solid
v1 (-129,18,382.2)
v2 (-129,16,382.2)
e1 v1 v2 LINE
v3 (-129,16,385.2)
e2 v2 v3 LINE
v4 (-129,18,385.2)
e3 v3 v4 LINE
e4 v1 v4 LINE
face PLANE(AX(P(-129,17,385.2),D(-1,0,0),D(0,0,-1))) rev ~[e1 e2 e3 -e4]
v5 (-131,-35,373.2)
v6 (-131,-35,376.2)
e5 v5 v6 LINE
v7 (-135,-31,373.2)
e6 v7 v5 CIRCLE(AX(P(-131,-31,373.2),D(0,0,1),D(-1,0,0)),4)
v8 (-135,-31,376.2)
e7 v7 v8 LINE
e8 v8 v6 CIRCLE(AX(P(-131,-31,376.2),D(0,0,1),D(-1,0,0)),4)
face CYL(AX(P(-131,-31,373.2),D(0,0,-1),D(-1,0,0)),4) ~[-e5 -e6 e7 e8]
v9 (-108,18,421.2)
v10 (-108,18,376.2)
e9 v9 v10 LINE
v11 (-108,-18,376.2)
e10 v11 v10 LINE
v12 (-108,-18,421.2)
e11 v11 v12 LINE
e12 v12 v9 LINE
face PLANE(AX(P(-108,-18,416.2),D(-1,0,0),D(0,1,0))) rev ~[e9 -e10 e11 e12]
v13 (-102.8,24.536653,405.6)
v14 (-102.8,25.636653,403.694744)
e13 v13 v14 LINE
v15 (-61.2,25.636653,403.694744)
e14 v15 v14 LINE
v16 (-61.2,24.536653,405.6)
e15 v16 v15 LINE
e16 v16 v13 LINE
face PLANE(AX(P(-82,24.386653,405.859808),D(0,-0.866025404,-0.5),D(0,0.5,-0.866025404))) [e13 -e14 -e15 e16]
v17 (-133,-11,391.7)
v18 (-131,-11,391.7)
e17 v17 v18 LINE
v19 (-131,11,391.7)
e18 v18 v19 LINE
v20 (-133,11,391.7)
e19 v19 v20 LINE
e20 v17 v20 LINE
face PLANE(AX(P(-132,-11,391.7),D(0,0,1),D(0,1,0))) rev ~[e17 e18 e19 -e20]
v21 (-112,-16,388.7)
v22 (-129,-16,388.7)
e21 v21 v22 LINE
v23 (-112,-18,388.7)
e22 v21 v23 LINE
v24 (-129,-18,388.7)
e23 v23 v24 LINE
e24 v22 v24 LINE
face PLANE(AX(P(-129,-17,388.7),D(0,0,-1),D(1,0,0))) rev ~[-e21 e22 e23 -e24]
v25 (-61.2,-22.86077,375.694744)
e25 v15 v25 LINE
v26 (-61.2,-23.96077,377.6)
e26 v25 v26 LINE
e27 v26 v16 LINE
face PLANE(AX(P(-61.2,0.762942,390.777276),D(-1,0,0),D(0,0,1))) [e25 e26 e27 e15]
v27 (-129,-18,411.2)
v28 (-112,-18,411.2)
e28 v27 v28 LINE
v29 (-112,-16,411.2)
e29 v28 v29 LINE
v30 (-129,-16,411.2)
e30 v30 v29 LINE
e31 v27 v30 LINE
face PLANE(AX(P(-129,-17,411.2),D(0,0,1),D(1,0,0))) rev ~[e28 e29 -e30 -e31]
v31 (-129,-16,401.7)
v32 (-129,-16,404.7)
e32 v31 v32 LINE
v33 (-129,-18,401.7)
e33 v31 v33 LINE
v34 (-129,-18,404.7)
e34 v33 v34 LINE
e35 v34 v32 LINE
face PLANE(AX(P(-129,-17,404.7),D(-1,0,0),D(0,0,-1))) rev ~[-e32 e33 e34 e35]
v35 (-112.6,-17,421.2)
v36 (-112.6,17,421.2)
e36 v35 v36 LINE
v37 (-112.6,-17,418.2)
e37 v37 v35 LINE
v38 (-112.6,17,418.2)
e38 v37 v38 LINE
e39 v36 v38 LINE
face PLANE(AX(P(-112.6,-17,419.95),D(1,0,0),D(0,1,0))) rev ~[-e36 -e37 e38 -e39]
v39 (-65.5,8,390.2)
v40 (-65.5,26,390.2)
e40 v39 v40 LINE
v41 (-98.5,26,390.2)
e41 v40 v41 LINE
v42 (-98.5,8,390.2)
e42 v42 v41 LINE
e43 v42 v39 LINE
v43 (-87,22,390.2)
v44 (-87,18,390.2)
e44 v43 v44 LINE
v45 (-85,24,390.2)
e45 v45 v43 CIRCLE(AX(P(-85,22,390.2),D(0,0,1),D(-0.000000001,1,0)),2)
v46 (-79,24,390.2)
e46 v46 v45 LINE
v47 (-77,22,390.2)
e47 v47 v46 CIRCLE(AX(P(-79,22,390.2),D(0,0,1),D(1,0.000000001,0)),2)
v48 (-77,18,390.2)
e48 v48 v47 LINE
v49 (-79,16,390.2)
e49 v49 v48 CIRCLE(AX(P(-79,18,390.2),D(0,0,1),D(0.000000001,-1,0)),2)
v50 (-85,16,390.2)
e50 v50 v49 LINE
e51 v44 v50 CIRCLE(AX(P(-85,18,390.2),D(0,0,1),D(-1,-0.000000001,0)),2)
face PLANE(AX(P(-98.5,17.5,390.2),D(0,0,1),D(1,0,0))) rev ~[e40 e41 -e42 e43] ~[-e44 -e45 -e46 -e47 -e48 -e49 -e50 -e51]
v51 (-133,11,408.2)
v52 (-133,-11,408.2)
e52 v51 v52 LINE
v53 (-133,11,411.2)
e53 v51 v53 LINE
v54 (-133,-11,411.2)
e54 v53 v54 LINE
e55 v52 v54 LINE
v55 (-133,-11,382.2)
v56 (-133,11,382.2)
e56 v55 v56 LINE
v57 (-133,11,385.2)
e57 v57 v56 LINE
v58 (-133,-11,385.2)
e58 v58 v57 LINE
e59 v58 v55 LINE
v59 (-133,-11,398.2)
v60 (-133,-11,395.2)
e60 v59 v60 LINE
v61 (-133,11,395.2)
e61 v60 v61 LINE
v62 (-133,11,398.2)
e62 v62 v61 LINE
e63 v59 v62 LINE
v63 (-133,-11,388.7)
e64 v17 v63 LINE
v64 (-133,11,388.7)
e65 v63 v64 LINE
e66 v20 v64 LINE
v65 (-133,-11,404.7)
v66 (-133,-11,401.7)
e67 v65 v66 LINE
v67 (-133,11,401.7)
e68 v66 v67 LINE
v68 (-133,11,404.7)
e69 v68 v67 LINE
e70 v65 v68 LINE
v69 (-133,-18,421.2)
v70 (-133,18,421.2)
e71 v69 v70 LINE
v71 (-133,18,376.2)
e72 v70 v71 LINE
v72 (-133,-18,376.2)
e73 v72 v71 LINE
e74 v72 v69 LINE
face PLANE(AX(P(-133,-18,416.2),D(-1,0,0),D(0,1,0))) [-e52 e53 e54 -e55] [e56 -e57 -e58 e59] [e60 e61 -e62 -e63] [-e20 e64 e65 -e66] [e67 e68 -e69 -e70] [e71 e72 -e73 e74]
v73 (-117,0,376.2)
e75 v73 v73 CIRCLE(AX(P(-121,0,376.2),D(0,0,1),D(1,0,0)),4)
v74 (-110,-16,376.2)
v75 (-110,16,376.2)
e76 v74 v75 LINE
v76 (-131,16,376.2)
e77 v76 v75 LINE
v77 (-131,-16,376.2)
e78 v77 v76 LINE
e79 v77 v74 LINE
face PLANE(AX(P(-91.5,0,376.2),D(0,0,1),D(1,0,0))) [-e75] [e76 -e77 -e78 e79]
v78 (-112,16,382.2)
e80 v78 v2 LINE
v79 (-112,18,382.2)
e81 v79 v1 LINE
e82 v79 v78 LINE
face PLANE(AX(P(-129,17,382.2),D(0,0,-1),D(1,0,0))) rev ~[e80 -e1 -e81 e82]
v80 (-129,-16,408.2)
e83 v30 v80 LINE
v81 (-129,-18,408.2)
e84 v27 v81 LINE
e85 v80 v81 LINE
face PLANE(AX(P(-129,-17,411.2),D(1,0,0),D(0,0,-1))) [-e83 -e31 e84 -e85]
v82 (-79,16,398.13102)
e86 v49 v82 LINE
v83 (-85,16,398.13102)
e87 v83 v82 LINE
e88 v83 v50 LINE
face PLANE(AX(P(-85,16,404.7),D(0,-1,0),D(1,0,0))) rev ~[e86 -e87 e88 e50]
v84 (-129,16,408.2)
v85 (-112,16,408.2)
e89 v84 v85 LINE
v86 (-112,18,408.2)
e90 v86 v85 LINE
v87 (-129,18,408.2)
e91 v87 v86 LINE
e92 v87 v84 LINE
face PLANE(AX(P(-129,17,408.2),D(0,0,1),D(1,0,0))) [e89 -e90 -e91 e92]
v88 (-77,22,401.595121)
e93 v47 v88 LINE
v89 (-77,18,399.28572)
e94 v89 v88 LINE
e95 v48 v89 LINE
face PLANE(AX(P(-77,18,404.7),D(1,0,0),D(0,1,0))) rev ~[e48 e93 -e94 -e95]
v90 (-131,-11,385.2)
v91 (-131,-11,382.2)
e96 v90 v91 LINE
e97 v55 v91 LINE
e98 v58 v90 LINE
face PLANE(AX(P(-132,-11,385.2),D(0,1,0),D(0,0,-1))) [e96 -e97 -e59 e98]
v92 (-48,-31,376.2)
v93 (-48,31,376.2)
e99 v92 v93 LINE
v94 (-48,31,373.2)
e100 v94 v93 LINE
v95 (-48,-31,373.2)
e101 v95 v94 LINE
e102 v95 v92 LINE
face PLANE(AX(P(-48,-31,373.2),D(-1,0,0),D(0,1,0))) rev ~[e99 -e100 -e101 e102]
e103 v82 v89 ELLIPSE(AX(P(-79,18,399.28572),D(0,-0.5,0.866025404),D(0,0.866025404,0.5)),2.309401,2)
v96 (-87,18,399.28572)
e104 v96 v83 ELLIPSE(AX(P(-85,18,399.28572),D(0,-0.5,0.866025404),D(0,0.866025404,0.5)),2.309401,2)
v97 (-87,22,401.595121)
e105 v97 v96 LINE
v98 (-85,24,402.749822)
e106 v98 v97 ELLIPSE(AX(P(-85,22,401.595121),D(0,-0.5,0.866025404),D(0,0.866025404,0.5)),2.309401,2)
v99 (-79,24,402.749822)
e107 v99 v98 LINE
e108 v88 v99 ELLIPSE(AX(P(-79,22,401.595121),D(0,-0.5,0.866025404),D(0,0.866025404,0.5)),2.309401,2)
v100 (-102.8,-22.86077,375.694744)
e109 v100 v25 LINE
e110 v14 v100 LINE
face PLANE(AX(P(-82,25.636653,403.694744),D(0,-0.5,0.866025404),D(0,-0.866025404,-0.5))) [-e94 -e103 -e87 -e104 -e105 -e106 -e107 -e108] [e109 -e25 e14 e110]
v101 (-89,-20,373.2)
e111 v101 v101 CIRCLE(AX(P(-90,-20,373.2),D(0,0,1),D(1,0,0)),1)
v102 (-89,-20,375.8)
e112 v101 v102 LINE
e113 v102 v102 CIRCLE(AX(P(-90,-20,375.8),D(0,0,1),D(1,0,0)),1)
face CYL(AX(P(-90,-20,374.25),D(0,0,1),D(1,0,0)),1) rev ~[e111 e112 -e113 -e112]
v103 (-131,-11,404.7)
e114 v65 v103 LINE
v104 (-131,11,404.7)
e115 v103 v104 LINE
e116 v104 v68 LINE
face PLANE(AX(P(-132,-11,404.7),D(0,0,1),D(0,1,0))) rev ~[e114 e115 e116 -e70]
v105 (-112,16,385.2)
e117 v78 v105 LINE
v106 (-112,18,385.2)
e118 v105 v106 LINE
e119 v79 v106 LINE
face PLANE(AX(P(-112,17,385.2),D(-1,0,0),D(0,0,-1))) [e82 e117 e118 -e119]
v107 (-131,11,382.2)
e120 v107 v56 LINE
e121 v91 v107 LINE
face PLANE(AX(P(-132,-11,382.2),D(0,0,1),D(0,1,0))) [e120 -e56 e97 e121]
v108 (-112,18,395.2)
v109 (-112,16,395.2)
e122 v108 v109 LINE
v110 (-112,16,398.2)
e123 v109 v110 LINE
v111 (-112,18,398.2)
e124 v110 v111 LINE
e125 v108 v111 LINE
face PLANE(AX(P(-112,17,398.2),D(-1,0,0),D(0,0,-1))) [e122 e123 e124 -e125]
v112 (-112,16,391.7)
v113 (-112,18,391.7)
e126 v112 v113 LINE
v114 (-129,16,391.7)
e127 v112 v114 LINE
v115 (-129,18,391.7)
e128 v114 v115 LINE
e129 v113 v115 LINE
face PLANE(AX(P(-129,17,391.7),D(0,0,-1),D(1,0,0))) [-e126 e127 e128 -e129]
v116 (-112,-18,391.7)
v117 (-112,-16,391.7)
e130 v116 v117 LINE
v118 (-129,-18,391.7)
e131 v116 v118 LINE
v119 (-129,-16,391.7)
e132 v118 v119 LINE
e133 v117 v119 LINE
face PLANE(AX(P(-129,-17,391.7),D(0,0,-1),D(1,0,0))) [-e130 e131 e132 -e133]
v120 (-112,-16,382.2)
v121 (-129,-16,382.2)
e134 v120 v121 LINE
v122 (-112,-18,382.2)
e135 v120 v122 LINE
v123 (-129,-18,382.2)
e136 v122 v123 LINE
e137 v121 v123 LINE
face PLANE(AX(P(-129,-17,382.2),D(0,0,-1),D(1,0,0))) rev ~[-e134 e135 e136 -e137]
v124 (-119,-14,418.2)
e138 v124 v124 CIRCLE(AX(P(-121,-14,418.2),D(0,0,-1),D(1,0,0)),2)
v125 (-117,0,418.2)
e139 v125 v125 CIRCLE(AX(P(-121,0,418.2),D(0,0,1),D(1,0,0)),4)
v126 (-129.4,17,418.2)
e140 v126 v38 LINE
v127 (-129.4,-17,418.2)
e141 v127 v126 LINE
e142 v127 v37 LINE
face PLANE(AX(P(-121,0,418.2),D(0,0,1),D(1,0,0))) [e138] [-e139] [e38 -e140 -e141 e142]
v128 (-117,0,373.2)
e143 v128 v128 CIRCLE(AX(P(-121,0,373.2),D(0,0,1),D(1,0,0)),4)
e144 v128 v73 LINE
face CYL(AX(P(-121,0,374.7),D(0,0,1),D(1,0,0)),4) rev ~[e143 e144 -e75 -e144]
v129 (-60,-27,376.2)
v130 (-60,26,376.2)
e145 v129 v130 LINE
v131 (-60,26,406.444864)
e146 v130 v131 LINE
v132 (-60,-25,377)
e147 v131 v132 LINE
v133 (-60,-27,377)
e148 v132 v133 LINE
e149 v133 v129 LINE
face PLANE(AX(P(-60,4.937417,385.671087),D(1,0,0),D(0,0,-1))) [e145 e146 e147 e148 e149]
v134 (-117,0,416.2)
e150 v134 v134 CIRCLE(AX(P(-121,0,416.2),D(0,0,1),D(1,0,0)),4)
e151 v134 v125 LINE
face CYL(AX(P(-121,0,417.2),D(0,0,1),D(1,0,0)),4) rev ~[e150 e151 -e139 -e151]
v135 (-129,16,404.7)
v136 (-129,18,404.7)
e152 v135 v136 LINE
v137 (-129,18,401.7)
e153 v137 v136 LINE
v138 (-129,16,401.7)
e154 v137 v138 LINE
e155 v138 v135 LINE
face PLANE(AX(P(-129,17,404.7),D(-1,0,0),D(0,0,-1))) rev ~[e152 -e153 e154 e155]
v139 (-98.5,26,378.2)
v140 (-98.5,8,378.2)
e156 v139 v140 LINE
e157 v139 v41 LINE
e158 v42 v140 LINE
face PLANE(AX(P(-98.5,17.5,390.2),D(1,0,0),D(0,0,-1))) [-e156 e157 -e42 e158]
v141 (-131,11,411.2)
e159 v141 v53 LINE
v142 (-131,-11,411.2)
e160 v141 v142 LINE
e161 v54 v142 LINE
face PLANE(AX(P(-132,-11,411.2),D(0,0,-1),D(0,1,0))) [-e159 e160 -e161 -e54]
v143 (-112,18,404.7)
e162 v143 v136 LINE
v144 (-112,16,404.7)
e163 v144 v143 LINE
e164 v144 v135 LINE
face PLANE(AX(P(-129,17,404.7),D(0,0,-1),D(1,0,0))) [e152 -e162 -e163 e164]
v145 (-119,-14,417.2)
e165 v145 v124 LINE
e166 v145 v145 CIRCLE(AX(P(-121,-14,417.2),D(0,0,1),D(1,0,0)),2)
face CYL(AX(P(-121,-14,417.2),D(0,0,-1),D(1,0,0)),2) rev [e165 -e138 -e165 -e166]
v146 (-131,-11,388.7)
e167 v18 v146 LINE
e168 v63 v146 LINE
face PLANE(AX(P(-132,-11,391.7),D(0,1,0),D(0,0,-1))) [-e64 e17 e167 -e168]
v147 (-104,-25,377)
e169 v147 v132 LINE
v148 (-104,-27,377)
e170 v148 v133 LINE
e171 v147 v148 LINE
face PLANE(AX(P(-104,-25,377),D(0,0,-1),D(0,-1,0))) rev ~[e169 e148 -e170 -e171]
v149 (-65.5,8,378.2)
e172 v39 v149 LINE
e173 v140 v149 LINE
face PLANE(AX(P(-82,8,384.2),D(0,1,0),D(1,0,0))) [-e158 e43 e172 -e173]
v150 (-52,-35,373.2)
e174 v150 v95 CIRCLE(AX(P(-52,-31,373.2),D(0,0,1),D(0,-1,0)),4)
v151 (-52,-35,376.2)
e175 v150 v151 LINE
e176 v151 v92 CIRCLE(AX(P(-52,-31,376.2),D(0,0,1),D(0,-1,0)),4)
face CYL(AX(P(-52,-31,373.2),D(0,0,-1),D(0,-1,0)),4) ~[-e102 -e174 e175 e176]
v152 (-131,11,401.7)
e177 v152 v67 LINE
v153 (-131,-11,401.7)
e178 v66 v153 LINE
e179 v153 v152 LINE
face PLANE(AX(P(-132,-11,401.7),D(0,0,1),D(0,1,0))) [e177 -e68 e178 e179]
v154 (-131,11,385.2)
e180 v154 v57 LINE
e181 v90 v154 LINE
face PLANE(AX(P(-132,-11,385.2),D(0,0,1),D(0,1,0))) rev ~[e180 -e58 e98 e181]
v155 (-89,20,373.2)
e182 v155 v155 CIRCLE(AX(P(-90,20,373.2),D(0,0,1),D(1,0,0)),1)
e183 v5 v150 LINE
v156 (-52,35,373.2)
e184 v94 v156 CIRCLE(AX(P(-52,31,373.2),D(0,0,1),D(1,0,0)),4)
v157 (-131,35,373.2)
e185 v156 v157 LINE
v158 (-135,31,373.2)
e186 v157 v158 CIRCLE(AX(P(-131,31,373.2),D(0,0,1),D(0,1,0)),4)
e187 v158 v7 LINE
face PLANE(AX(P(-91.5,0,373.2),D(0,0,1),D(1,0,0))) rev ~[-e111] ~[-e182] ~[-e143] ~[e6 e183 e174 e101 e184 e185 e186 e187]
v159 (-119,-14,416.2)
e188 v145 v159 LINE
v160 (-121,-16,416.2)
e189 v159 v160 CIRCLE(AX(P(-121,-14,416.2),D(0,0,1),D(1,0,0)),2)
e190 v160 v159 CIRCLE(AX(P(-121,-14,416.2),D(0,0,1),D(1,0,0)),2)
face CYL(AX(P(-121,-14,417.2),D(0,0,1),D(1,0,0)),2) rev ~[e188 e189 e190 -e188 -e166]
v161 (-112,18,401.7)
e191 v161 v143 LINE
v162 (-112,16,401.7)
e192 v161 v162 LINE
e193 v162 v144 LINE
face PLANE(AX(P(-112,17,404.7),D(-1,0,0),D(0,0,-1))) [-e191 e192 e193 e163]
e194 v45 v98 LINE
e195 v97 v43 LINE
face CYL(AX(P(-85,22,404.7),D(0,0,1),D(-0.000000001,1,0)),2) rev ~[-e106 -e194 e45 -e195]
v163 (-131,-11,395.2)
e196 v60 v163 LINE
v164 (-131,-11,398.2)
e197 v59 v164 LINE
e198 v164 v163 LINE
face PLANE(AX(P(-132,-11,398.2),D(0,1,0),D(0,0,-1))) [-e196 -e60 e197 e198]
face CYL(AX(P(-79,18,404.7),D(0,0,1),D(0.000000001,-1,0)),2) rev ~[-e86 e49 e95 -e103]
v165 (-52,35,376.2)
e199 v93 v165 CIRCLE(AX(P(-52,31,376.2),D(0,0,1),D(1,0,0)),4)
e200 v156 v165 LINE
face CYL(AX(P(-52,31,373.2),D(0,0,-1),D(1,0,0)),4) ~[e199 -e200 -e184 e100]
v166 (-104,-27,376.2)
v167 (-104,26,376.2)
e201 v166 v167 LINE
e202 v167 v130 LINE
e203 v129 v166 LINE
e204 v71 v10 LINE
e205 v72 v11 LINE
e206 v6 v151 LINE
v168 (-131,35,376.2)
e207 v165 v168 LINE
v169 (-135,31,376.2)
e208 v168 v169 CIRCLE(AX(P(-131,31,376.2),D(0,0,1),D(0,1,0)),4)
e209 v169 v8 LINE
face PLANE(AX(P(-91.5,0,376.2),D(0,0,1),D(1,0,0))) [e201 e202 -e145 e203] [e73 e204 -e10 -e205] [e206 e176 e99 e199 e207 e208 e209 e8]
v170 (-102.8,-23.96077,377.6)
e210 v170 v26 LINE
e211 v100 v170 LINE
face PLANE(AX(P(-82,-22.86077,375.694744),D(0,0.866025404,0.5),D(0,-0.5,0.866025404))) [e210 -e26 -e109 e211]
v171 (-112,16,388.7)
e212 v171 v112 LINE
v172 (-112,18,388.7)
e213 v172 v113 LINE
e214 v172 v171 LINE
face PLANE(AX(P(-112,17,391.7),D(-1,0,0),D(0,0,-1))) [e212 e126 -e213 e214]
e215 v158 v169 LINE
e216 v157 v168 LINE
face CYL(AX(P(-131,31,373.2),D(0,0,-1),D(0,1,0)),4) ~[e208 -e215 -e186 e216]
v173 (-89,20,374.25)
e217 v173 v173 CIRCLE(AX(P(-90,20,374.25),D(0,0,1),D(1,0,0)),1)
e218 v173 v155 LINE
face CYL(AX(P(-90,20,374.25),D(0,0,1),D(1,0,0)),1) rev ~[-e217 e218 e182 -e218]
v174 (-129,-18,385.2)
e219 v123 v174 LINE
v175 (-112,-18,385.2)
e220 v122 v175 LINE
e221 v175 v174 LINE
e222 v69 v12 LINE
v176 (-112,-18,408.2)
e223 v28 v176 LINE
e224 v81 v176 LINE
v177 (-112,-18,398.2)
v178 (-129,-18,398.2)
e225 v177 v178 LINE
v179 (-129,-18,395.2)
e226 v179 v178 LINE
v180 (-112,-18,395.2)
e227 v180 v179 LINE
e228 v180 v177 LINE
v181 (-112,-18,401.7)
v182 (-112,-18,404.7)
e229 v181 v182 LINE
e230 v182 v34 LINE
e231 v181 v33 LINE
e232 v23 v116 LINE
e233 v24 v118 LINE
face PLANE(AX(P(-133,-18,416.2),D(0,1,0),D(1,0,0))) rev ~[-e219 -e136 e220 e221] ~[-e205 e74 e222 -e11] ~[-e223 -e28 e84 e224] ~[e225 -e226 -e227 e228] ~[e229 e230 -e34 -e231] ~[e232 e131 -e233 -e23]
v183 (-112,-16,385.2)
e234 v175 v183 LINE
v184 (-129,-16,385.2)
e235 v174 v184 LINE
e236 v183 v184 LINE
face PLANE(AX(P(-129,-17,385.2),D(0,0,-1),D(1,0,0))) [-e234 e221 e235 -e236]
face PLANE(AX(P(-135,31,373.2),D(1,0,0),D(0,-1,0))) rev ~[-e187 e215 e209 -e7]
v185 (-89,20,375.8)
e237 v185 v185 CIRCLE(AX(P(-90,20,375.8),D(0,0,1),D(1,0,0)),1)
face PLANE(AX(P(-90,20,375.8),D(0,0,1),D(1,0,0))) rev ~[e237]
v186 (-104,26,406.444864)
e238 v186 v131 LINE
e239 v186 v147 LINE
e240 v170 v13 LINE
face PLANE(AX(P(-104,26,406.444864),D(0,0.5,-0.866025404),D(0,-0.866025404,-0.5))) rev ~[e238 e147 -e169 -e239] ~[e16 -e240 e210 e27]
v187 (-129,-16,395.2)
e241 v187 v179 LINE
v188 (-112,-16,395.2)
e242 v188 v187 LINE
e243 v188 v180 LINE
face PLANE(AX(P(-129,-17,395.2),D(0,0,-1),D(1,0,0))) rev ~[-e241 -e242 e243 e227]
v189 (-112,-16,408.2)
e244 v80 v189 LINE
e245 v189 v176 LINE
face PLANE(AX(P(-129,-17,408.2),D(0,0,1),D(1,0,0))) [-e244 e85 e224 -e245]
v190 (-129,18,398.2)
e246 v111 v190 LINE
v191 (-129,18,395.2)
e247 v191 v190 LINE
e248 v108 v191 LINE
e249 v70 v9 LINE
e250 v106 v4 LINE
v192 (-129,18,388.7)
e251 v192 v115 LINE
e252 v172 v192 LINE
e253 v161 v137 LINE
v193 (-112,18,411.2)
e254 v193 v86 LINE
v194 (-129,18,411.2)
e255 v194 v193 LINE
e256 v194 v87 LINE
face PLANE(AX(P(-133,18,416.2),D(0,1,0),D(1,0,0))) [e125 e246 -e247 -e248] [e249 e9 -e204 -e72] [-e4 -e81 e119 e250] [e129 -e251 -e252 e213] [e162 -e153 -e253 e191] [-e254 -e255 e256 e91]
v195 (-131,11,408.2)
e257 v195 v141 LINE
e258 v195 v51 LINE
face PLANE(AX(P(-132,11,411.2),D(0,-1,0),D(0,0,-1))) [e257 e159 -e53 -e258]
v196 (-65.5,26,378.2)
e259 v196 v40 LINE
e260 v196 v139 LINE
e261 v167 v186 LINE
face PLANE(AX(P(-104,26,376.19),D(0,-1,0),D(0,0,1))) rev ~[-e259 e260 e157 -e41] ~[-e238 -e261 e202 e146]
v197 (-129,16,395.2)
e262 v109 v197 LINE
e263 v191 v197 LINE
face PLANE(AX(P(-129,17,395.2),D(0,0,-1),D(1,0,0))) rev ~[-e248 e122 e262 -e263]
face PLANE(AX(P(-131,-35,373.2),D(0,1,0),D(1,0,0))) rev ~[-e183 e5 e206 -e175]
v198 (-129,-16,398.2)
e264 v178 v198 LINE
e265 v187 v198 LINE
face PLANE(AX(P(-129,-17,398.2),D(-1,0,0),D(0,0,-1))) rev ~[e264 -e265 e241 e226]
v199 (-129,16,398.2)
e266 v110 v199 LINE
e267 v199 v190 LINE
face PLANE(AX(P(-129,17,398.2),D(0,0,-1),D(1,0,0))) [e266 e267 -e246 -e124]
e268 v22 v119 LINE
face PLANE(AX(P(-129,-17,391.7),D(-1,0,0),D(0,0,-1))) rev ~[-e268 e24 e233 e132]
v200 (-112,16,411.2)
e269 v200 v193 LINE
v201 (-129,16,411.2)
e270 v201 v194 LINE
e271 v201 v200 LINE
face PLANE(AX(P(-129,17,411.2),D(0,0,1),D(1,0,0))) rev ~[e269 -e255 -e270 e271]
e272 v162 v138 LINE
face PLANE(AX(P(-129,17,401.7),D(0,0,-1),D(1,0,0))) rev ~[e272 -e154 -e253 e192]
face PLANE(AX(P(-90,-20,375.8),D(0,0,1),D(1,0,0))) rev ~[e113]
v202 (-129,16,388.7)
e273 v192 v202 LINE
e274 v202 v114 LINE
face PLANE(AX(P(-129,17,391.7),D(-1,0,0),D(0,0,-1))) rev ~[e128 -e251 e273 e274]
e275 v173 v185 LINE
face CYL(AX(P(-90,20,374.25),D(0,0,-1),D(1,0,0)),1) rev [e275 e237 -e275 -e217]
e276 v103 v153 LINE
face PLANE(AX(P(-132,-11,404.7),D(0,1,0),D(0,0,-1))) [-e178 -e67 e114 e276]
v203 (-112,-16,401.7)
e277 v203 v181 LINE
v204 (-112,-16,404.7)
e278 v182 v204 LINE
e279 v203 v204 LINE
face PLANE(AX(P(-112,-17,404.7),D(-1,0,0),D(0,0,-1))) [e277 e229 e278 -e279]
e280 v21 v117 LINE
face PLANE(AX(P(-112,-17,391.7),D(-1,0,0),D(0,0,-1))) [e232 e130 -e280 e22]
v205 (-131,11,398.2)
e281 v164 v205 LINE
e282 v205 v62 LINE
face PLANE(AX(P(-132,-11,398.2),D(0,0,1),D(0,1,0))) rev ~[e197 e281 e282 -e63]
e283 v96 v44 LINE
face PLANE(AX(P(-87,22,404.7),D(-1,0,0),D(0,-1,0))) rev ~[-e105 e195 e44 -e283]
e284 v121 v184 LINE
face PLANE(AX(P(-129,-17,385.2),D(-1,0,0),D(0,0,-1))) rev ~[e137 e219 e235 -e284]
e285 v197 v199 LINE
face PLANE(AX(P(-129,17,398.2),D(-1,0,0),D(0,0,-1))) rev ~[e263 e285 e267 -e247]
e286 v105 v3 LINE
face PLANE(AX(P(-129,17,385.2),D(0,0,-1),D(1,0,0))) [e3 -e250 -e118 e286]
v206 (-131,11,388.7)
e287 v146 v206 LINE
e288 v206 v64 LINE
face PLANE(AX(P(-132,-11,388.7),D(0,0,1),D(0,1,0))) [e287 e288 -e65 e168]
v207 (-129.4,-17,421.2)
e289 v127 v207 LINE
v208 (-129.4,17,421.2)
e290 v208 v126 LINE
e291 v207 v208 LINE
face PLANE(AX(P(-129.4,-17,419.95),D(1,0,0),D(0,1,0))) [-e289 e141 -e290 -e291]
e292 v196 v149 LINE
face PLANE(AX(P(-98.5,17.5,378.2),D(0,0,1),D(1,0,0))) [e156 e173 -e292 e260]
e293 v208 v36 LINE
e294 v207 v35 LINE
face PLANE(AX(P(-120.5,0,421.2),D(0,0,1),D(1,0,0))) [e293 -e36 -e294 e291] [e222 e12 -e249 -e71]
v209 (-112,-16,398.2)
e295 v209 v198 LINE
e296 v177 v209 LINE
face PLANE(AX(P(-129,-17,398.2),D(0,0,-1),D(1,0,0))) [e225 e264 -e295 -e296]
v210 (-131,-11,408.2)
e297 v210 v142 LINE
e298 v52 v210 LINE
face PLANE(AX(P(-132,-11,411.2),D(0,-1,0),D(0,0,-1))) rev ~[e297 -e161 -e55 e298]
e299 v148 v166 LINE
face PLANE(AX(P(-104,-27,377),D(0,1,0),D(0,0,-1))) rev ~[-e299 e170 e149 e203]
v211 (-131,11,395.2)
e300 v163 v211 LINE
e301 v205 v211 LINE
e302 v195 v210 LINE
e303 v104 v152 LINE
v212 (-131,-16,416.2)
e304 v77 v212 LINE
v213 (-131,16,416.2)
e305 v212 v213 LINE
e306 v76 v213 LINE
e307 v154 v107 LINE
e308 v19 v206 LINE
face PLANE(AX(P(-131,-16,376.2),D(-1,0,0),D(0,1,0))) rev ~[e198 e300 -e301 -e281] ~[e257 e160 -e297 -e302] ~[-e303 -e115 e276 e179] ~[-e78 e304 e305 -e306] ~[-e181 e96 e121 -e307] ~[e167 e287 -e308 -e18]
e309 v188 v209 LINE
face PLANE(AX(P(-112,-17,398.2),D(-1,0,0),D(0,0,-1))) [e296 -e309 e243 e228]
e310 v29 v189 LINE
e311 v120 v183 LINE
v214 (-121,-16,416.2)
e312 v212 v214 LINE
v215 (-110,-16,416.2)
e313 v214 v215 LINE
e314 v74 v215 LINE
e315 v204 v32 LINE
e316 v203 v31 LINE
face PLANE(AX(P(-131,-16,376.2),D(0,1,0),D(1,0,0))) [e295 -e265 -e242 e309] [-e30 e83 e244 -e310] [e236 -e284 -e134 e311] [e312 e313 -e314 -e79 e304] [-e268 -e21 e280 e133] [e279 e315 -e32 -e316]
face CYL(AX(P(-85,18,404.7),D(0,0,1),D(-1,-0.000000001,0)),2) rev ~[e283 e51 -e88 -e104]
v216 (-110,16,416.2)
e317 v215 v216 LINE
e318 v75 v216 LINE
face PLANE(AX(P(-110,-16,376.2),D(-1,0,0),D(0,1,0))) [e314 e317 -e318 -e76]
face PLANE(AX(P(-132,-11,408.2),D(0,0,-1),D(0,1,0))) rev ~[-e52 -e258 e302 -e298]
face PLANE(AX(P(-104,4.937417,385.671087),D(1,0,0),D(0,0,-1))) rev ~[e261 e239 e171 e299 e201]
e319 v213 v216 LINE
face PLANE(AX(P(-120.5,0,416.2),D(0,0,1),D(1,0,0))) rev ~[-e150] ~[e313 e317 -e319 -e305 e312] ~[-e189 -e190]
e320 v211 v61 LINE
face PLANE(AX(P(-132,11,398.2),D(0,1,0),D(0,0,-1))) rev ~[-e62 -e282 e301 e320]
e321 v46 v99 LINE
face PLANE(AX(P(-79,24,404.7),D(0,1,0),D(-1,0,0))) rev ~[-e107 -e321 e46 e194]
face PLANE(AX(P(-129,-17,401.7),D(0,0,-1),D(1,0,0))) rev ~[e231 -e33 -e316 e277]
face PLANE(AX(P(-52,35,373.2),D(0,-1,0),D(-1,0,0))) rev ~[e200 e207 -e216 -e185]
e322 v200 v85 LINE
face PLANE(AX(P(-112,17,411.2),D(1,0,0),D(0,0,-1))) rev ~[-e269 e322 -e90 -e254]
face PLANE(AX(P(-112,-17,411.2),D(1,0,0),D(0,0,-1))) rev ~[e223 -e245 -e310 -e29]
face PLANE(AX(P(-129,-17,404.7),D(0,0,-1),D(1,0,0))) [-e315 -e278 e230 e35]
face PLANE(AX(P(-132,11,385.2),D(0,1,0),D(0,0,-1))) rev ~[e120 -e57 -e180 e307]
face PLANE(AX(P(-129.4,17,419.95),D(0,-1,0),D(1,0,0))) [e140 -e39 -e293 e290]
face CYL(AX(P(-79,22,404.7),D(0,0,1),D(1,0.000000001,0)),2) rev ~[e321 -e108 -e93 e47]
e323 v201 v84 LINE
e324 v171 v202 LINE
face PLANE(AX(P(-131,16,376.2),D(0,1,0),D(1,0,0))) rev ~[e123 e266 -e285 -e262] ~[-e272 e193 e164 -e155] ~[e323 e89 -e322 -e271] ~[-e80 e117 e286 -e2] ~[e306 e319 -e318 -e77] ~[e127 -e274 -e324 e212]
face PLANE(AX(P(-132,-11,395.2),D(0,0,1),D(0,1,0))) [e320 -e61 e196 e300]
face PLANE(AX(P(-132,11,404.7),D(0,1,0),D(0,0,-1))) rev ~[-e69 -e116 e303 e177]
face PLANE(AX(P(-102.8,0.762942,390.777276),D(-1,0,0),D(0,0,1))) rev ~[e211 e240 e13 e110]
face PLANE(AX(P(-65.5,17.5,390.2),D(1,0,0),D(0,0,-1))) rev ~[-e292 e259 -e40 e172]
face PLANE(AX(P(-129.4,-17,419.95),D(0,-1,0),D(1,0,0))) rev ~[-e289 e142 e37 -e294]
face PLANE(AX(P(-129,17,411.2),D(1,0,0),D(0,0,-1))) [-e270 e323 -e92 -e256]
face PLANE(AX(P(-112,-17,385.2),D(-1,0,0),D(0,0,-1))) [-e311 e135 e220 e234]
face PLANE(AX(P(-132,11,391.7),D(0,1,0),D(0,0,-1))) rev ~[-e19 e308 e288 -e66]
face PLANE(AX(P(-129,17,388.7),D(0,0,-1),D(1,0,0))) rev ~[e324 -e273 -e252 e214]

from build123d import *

# Parameters (mm, degrees)
BASE_PLATE_DEPTH                = 3
RAIN_PLATE_WEDGE_DEPTH          = 44
RAIN_PLATE_POCKET_DEPTH         = 20.8
SKETCH4_W                       = 33
SKETCH4_H                       = 12
LM393_BOARD_POCKET_DEPTH        = 9.5
RAIN_PLATE_PIN_HOLE_DEPTH       = 15
SKETCH6_W                       = 25
SKETCH6_H                       = 36
SKETCH6_W_2                     = 21
SKETCH6_H_2                     = 32
DHT11_SCREEN_WALLS_DEPTH        = 40
SKETCH7_W                       = 25
SKETCH7_H                       = 36
DHT11_SCREEN_ROOF_DEPTH         = 5
SKETCH8_W                       = 16.8
SKETCH8_H                       = 34
LDR_MODULE_POCKET_DEPTH         = 1.75
SKETCH9_R                       = 2
SKETCH9_R_2                     = 4
LDR_AND_SCREEN_WIRE_HOLES_DEPTH = 1.5
SKETCH10_R                      = 4
DHT11_WIRE_HOLE_DEPTH           = 2
SKETCH11_R                      = 1
FILAMENT_PIN_HOLES_DEPTH        = 1.55
SKETCH12_W                      = 3
SKETCH12_H                      = 22
LOUVRES_BACK_DEPTH              = 2
SKETCH13_W                      = 17
SKETCH13_H                      = 3
LOUVRES_STBD_DEPTH              = 2
SKETCH14_W                      = 17
SKETCH14_H                      = 3
LOUVRES_PORT_DEPTH              = 2


with BuildPart() as part:
    # Sketch1 → Base_plate (new body)
    with BuildSketch(Plane.XY.offset(373.2)):
        with BuildLine():
            Line((-131, -35), (-52, -35))
            ThreePointArc((-52, -35), (-49.171572875, -33.828427125), (-48, -31))
            Line((-48, -31), (-48, 31))
            ThreePointArc((-48, 31), (-49.171572875, 33.828427125), (-52, 35))
            Line((-52, 35), (-131, 35))
            ThreePointArc((-131, 35), (-133.828427125, 33.828427125), (-135, 31))
            Line((-135, 31), (-135, -31))
            ThreePointArc((-135, -31), (-133.828427125, -33.828427125), (-131, -35))
        make_face()
    extrude(amount=BASE_PLATE_DEPTH)

    # Sketch2 → Rain_plate_wedge (add)
    with BuildSketch(Plane(origin=(-104, 0, 0), x_dir=(0, 0, -1), z_dir=(1, 0, 0))):
        Polygon((-376.19, -27), (-376.19, 26), (-406.444863729, 26), (-377, -25), (-377, -27), align=None)
    extrude(amount=RAIN_PLATE_WEDGE_DEPTH)

    # Sketch3 → Rain_plate_pocket (cut, symmetric)
    with BuildSketch(Plane(origin=(-82, 0, 0), x_dir=(0, 0, -1), z_dir=(1, 0, 0))):
        Polygon((-377.859807621, -24.110769515), (-405.859807621, 24.386653096), (-403.694744112, 25.636653096), (-375.694744112, -22.860769515), align=None)
    extrude(amount=RAIN_PLATE_POCKET_DEPTH, both=True, mode=Mode.SUBTRACT)

    # Sketch4 → LM393_board_pocket (cut, symmetric)
    with BuildSketch(Plane(origin=(0, 17.5, 0), x_dir=(1, 0, 0), z_dir=(0, 1, 0))):
        with Locations((-82, -384.2)):
            Rectangle(SKETCH4_W, SKETCH4_H)
    extrude(amount=LM393_BOARD_POCKET_DEPTH, both=True, mode=Mode.SUBTRACT)

    # Sketch5 → Rain_plate_pin_hole (cut, symmetric)
    with BuildSketch(Plane.XY.offset(404.7)):
        with BuildLine():
            Line((-85, 16), (-79, 16))
            ThreePointArc((-79, 16), (-77.585786438, 16.585786438), (-77, 18))
            Line((-77, 18), (-77, 22))
            ThreePointArc((-77, 22), (-77.585786438, 23.414213562), (-79, 24))
            Line((-79, 24), (-85, 24))
            ThreePointArc((-85, 24), (-86.414213562, 23.414213562), (-87, 22))
            Line((-87, 22), (-87, 18))
            ThreePointArc((-87, 18), (-86.414213562, 16.585786438), (-85, 16))
        make_face()
    extrude(amount=RAIN_PLATE_PIN_HOLE_DEPTH, both=True, mode=Mode.SUBTRACT)

    # Sketch6 → DHT11_screen_walls (add)
    with BuildSketch(Plane.XY.offset(376.2)):
        with Locations((-120.5, 0)):
            Rectangle(SKETCH6_W, SKETCH6_H)
        with Locations((-120.5, 0)):
            Rectangle(SKETCH6_W_2, SKETCH6_H_2, mode=Mode.SUBTRACT)
    extrude(amount=DHT11_SCREEN_WALLS_DEPTH)

    # Sketch7 → DHT11_screen_roof (add)
    with BuildSketch(Plane.XY.offset(416.2)):
        with Locations((-120.5, 0)):
            Rectangle(SKETCH7_W, SKETCH7_H)
    extrude(amount=DHT11_SCREEN_ROOF_DEPTH)

    # Sketch8 → LDR_module_pocket (cut, symmetric)
    with BuildSketch(Plane.XY.offset(419.95)):
        with Locations((-121, 0)):
            Rectangle(SKETCH8_W, SKETCH8_H)
    extrude(amount=LDR_MODULE_POCKET_DEPTH, both=True, mode=Mode.SUBTRACT)

    # Sketch9 → LDR_and_screen_wire_holes (cut, symmetric)
    with BuildSketch(Plane.XY.offset(417.2)):
        with Locations((-121, -14)):
            Circle(SKETCH9_R)
        with Locations((-121, 0)):
            Circle(SKETCH9_R_2)
    extrude(amount=LDR_AND_SCREEN_WIRE_HOLES_DEPTH, both=True, mode=Mode.SUBTRACT)

    # Sketch10 → DHT11_wire_hole (cut, symmetric)
    with BuildSketch(Plane.XY.offset(374.7)):
        with Locations((-121, 0)):
            Circle(SKETCH10_R)
    extrude(amount=DHT11_WIRE_HOLE_DEPTH, both=True, mode=Mode.SUBTRACT)

    # Sketch11 → Filament_pin_holes (cut, symmetric)
    with BuildSketch(Plane.XY.offset(374.25)):
        with Locations((-90, 20)):
            Circle(SKETCH11_R)
        with Locations((-90, -20)):
            Circle(SKETCH11_R)
    extrude(amount=FILAMENT_PIN_HOLES_DEPTH, both=True, mode=Mode.SUBTRACT)

    # Sketch12 → Louvres_back (cut, symmetric)
    with BuildSketch(Plane(origin=(-132, 0, 0), x_dir=(0, 0, -1), z_dir=(1, 0, 0))):
        with Locations((-383.7, 0)):
            Rectangle(SKETCH12_W, SKETCH12_H)
        with Locations((-390.2, 0)):
            Rectangle(SKETCH12_W, SKETCH12_H)
        with Locations((-396.7, 0)):
            Rectangle(SKETCH12_W, SKETCH12_H)
        with Locations((-403.2, 0)):
            Rectangle(SKETCH12_W, SKETCH12_H)
        with Locations((-409.7, 0)):
            Rectangle(SKETCH12_W, SKETCH12_H)
    extrude(amount=LOUVRES_BACK_DEPTH, both=True, mode=Mode.SUBTRACT)

    # Sketch13 → Louvres_stbd (cut, symmetric)
    with BuildSketch(Plane(origin=(0, 17, 0), x_dir=(1, 0, 0), z_dir=(0, 1, 0))):
        with Locations((-120.5, -383.7)):
            Rectangle(SKETCH13_W, SKETCH13_H)
        with Locations((-120.5, -390.2)):
            Rectangle(SKETCH13_W, SKETCH13_H)
        with Locations((-120.5, -396.7)):
            Rectangle(SKETCH13_W, SKETCH13_H)
        with Locations((-120.5, -403.2)):
            Rectangle(SKETCH13_W, SKETCH13_H)
        with Locations((-120.5, -409.7)):
            Rectangle(SKETCH13_W, SKETCH13_H)
    extrude(amount=LOUVRES_STBD_DEPTH, both=True, mode=Mode.SUBTRACT)

    # Sketch14 → Louvres_port (cut, symmetric)
    with BuildSketch(Plane(origin=(0, -17, 0), x_dir=(1, 0, 0), z_dir=(0, 1, 0))):
        with Locations((-120.5, -383.7)):
            Rectangle(SKETCH14_W, SKETCH14_H)
        with Locations((-120.5, -390.2)):
            Rectangle(SKETCH14_W, SKETCH14_H)
        with Locations((-120.5, -396.7)):
            Rectangle(SKETCH14_W, SKETCH14_H)
        with Locations((-120.5, -403.2)):
            Rectangle(SKETCH14_W, SKETCH14_H)
        with Locations((-120.5, -409.7)):
            Rectangle(SKETCH14_W, SKETCH14_H)
    extrude(amount=LOUVRES_PORT_DEPTH, both=True, mode=Mode.SUBTRACT)


solid = part.part
